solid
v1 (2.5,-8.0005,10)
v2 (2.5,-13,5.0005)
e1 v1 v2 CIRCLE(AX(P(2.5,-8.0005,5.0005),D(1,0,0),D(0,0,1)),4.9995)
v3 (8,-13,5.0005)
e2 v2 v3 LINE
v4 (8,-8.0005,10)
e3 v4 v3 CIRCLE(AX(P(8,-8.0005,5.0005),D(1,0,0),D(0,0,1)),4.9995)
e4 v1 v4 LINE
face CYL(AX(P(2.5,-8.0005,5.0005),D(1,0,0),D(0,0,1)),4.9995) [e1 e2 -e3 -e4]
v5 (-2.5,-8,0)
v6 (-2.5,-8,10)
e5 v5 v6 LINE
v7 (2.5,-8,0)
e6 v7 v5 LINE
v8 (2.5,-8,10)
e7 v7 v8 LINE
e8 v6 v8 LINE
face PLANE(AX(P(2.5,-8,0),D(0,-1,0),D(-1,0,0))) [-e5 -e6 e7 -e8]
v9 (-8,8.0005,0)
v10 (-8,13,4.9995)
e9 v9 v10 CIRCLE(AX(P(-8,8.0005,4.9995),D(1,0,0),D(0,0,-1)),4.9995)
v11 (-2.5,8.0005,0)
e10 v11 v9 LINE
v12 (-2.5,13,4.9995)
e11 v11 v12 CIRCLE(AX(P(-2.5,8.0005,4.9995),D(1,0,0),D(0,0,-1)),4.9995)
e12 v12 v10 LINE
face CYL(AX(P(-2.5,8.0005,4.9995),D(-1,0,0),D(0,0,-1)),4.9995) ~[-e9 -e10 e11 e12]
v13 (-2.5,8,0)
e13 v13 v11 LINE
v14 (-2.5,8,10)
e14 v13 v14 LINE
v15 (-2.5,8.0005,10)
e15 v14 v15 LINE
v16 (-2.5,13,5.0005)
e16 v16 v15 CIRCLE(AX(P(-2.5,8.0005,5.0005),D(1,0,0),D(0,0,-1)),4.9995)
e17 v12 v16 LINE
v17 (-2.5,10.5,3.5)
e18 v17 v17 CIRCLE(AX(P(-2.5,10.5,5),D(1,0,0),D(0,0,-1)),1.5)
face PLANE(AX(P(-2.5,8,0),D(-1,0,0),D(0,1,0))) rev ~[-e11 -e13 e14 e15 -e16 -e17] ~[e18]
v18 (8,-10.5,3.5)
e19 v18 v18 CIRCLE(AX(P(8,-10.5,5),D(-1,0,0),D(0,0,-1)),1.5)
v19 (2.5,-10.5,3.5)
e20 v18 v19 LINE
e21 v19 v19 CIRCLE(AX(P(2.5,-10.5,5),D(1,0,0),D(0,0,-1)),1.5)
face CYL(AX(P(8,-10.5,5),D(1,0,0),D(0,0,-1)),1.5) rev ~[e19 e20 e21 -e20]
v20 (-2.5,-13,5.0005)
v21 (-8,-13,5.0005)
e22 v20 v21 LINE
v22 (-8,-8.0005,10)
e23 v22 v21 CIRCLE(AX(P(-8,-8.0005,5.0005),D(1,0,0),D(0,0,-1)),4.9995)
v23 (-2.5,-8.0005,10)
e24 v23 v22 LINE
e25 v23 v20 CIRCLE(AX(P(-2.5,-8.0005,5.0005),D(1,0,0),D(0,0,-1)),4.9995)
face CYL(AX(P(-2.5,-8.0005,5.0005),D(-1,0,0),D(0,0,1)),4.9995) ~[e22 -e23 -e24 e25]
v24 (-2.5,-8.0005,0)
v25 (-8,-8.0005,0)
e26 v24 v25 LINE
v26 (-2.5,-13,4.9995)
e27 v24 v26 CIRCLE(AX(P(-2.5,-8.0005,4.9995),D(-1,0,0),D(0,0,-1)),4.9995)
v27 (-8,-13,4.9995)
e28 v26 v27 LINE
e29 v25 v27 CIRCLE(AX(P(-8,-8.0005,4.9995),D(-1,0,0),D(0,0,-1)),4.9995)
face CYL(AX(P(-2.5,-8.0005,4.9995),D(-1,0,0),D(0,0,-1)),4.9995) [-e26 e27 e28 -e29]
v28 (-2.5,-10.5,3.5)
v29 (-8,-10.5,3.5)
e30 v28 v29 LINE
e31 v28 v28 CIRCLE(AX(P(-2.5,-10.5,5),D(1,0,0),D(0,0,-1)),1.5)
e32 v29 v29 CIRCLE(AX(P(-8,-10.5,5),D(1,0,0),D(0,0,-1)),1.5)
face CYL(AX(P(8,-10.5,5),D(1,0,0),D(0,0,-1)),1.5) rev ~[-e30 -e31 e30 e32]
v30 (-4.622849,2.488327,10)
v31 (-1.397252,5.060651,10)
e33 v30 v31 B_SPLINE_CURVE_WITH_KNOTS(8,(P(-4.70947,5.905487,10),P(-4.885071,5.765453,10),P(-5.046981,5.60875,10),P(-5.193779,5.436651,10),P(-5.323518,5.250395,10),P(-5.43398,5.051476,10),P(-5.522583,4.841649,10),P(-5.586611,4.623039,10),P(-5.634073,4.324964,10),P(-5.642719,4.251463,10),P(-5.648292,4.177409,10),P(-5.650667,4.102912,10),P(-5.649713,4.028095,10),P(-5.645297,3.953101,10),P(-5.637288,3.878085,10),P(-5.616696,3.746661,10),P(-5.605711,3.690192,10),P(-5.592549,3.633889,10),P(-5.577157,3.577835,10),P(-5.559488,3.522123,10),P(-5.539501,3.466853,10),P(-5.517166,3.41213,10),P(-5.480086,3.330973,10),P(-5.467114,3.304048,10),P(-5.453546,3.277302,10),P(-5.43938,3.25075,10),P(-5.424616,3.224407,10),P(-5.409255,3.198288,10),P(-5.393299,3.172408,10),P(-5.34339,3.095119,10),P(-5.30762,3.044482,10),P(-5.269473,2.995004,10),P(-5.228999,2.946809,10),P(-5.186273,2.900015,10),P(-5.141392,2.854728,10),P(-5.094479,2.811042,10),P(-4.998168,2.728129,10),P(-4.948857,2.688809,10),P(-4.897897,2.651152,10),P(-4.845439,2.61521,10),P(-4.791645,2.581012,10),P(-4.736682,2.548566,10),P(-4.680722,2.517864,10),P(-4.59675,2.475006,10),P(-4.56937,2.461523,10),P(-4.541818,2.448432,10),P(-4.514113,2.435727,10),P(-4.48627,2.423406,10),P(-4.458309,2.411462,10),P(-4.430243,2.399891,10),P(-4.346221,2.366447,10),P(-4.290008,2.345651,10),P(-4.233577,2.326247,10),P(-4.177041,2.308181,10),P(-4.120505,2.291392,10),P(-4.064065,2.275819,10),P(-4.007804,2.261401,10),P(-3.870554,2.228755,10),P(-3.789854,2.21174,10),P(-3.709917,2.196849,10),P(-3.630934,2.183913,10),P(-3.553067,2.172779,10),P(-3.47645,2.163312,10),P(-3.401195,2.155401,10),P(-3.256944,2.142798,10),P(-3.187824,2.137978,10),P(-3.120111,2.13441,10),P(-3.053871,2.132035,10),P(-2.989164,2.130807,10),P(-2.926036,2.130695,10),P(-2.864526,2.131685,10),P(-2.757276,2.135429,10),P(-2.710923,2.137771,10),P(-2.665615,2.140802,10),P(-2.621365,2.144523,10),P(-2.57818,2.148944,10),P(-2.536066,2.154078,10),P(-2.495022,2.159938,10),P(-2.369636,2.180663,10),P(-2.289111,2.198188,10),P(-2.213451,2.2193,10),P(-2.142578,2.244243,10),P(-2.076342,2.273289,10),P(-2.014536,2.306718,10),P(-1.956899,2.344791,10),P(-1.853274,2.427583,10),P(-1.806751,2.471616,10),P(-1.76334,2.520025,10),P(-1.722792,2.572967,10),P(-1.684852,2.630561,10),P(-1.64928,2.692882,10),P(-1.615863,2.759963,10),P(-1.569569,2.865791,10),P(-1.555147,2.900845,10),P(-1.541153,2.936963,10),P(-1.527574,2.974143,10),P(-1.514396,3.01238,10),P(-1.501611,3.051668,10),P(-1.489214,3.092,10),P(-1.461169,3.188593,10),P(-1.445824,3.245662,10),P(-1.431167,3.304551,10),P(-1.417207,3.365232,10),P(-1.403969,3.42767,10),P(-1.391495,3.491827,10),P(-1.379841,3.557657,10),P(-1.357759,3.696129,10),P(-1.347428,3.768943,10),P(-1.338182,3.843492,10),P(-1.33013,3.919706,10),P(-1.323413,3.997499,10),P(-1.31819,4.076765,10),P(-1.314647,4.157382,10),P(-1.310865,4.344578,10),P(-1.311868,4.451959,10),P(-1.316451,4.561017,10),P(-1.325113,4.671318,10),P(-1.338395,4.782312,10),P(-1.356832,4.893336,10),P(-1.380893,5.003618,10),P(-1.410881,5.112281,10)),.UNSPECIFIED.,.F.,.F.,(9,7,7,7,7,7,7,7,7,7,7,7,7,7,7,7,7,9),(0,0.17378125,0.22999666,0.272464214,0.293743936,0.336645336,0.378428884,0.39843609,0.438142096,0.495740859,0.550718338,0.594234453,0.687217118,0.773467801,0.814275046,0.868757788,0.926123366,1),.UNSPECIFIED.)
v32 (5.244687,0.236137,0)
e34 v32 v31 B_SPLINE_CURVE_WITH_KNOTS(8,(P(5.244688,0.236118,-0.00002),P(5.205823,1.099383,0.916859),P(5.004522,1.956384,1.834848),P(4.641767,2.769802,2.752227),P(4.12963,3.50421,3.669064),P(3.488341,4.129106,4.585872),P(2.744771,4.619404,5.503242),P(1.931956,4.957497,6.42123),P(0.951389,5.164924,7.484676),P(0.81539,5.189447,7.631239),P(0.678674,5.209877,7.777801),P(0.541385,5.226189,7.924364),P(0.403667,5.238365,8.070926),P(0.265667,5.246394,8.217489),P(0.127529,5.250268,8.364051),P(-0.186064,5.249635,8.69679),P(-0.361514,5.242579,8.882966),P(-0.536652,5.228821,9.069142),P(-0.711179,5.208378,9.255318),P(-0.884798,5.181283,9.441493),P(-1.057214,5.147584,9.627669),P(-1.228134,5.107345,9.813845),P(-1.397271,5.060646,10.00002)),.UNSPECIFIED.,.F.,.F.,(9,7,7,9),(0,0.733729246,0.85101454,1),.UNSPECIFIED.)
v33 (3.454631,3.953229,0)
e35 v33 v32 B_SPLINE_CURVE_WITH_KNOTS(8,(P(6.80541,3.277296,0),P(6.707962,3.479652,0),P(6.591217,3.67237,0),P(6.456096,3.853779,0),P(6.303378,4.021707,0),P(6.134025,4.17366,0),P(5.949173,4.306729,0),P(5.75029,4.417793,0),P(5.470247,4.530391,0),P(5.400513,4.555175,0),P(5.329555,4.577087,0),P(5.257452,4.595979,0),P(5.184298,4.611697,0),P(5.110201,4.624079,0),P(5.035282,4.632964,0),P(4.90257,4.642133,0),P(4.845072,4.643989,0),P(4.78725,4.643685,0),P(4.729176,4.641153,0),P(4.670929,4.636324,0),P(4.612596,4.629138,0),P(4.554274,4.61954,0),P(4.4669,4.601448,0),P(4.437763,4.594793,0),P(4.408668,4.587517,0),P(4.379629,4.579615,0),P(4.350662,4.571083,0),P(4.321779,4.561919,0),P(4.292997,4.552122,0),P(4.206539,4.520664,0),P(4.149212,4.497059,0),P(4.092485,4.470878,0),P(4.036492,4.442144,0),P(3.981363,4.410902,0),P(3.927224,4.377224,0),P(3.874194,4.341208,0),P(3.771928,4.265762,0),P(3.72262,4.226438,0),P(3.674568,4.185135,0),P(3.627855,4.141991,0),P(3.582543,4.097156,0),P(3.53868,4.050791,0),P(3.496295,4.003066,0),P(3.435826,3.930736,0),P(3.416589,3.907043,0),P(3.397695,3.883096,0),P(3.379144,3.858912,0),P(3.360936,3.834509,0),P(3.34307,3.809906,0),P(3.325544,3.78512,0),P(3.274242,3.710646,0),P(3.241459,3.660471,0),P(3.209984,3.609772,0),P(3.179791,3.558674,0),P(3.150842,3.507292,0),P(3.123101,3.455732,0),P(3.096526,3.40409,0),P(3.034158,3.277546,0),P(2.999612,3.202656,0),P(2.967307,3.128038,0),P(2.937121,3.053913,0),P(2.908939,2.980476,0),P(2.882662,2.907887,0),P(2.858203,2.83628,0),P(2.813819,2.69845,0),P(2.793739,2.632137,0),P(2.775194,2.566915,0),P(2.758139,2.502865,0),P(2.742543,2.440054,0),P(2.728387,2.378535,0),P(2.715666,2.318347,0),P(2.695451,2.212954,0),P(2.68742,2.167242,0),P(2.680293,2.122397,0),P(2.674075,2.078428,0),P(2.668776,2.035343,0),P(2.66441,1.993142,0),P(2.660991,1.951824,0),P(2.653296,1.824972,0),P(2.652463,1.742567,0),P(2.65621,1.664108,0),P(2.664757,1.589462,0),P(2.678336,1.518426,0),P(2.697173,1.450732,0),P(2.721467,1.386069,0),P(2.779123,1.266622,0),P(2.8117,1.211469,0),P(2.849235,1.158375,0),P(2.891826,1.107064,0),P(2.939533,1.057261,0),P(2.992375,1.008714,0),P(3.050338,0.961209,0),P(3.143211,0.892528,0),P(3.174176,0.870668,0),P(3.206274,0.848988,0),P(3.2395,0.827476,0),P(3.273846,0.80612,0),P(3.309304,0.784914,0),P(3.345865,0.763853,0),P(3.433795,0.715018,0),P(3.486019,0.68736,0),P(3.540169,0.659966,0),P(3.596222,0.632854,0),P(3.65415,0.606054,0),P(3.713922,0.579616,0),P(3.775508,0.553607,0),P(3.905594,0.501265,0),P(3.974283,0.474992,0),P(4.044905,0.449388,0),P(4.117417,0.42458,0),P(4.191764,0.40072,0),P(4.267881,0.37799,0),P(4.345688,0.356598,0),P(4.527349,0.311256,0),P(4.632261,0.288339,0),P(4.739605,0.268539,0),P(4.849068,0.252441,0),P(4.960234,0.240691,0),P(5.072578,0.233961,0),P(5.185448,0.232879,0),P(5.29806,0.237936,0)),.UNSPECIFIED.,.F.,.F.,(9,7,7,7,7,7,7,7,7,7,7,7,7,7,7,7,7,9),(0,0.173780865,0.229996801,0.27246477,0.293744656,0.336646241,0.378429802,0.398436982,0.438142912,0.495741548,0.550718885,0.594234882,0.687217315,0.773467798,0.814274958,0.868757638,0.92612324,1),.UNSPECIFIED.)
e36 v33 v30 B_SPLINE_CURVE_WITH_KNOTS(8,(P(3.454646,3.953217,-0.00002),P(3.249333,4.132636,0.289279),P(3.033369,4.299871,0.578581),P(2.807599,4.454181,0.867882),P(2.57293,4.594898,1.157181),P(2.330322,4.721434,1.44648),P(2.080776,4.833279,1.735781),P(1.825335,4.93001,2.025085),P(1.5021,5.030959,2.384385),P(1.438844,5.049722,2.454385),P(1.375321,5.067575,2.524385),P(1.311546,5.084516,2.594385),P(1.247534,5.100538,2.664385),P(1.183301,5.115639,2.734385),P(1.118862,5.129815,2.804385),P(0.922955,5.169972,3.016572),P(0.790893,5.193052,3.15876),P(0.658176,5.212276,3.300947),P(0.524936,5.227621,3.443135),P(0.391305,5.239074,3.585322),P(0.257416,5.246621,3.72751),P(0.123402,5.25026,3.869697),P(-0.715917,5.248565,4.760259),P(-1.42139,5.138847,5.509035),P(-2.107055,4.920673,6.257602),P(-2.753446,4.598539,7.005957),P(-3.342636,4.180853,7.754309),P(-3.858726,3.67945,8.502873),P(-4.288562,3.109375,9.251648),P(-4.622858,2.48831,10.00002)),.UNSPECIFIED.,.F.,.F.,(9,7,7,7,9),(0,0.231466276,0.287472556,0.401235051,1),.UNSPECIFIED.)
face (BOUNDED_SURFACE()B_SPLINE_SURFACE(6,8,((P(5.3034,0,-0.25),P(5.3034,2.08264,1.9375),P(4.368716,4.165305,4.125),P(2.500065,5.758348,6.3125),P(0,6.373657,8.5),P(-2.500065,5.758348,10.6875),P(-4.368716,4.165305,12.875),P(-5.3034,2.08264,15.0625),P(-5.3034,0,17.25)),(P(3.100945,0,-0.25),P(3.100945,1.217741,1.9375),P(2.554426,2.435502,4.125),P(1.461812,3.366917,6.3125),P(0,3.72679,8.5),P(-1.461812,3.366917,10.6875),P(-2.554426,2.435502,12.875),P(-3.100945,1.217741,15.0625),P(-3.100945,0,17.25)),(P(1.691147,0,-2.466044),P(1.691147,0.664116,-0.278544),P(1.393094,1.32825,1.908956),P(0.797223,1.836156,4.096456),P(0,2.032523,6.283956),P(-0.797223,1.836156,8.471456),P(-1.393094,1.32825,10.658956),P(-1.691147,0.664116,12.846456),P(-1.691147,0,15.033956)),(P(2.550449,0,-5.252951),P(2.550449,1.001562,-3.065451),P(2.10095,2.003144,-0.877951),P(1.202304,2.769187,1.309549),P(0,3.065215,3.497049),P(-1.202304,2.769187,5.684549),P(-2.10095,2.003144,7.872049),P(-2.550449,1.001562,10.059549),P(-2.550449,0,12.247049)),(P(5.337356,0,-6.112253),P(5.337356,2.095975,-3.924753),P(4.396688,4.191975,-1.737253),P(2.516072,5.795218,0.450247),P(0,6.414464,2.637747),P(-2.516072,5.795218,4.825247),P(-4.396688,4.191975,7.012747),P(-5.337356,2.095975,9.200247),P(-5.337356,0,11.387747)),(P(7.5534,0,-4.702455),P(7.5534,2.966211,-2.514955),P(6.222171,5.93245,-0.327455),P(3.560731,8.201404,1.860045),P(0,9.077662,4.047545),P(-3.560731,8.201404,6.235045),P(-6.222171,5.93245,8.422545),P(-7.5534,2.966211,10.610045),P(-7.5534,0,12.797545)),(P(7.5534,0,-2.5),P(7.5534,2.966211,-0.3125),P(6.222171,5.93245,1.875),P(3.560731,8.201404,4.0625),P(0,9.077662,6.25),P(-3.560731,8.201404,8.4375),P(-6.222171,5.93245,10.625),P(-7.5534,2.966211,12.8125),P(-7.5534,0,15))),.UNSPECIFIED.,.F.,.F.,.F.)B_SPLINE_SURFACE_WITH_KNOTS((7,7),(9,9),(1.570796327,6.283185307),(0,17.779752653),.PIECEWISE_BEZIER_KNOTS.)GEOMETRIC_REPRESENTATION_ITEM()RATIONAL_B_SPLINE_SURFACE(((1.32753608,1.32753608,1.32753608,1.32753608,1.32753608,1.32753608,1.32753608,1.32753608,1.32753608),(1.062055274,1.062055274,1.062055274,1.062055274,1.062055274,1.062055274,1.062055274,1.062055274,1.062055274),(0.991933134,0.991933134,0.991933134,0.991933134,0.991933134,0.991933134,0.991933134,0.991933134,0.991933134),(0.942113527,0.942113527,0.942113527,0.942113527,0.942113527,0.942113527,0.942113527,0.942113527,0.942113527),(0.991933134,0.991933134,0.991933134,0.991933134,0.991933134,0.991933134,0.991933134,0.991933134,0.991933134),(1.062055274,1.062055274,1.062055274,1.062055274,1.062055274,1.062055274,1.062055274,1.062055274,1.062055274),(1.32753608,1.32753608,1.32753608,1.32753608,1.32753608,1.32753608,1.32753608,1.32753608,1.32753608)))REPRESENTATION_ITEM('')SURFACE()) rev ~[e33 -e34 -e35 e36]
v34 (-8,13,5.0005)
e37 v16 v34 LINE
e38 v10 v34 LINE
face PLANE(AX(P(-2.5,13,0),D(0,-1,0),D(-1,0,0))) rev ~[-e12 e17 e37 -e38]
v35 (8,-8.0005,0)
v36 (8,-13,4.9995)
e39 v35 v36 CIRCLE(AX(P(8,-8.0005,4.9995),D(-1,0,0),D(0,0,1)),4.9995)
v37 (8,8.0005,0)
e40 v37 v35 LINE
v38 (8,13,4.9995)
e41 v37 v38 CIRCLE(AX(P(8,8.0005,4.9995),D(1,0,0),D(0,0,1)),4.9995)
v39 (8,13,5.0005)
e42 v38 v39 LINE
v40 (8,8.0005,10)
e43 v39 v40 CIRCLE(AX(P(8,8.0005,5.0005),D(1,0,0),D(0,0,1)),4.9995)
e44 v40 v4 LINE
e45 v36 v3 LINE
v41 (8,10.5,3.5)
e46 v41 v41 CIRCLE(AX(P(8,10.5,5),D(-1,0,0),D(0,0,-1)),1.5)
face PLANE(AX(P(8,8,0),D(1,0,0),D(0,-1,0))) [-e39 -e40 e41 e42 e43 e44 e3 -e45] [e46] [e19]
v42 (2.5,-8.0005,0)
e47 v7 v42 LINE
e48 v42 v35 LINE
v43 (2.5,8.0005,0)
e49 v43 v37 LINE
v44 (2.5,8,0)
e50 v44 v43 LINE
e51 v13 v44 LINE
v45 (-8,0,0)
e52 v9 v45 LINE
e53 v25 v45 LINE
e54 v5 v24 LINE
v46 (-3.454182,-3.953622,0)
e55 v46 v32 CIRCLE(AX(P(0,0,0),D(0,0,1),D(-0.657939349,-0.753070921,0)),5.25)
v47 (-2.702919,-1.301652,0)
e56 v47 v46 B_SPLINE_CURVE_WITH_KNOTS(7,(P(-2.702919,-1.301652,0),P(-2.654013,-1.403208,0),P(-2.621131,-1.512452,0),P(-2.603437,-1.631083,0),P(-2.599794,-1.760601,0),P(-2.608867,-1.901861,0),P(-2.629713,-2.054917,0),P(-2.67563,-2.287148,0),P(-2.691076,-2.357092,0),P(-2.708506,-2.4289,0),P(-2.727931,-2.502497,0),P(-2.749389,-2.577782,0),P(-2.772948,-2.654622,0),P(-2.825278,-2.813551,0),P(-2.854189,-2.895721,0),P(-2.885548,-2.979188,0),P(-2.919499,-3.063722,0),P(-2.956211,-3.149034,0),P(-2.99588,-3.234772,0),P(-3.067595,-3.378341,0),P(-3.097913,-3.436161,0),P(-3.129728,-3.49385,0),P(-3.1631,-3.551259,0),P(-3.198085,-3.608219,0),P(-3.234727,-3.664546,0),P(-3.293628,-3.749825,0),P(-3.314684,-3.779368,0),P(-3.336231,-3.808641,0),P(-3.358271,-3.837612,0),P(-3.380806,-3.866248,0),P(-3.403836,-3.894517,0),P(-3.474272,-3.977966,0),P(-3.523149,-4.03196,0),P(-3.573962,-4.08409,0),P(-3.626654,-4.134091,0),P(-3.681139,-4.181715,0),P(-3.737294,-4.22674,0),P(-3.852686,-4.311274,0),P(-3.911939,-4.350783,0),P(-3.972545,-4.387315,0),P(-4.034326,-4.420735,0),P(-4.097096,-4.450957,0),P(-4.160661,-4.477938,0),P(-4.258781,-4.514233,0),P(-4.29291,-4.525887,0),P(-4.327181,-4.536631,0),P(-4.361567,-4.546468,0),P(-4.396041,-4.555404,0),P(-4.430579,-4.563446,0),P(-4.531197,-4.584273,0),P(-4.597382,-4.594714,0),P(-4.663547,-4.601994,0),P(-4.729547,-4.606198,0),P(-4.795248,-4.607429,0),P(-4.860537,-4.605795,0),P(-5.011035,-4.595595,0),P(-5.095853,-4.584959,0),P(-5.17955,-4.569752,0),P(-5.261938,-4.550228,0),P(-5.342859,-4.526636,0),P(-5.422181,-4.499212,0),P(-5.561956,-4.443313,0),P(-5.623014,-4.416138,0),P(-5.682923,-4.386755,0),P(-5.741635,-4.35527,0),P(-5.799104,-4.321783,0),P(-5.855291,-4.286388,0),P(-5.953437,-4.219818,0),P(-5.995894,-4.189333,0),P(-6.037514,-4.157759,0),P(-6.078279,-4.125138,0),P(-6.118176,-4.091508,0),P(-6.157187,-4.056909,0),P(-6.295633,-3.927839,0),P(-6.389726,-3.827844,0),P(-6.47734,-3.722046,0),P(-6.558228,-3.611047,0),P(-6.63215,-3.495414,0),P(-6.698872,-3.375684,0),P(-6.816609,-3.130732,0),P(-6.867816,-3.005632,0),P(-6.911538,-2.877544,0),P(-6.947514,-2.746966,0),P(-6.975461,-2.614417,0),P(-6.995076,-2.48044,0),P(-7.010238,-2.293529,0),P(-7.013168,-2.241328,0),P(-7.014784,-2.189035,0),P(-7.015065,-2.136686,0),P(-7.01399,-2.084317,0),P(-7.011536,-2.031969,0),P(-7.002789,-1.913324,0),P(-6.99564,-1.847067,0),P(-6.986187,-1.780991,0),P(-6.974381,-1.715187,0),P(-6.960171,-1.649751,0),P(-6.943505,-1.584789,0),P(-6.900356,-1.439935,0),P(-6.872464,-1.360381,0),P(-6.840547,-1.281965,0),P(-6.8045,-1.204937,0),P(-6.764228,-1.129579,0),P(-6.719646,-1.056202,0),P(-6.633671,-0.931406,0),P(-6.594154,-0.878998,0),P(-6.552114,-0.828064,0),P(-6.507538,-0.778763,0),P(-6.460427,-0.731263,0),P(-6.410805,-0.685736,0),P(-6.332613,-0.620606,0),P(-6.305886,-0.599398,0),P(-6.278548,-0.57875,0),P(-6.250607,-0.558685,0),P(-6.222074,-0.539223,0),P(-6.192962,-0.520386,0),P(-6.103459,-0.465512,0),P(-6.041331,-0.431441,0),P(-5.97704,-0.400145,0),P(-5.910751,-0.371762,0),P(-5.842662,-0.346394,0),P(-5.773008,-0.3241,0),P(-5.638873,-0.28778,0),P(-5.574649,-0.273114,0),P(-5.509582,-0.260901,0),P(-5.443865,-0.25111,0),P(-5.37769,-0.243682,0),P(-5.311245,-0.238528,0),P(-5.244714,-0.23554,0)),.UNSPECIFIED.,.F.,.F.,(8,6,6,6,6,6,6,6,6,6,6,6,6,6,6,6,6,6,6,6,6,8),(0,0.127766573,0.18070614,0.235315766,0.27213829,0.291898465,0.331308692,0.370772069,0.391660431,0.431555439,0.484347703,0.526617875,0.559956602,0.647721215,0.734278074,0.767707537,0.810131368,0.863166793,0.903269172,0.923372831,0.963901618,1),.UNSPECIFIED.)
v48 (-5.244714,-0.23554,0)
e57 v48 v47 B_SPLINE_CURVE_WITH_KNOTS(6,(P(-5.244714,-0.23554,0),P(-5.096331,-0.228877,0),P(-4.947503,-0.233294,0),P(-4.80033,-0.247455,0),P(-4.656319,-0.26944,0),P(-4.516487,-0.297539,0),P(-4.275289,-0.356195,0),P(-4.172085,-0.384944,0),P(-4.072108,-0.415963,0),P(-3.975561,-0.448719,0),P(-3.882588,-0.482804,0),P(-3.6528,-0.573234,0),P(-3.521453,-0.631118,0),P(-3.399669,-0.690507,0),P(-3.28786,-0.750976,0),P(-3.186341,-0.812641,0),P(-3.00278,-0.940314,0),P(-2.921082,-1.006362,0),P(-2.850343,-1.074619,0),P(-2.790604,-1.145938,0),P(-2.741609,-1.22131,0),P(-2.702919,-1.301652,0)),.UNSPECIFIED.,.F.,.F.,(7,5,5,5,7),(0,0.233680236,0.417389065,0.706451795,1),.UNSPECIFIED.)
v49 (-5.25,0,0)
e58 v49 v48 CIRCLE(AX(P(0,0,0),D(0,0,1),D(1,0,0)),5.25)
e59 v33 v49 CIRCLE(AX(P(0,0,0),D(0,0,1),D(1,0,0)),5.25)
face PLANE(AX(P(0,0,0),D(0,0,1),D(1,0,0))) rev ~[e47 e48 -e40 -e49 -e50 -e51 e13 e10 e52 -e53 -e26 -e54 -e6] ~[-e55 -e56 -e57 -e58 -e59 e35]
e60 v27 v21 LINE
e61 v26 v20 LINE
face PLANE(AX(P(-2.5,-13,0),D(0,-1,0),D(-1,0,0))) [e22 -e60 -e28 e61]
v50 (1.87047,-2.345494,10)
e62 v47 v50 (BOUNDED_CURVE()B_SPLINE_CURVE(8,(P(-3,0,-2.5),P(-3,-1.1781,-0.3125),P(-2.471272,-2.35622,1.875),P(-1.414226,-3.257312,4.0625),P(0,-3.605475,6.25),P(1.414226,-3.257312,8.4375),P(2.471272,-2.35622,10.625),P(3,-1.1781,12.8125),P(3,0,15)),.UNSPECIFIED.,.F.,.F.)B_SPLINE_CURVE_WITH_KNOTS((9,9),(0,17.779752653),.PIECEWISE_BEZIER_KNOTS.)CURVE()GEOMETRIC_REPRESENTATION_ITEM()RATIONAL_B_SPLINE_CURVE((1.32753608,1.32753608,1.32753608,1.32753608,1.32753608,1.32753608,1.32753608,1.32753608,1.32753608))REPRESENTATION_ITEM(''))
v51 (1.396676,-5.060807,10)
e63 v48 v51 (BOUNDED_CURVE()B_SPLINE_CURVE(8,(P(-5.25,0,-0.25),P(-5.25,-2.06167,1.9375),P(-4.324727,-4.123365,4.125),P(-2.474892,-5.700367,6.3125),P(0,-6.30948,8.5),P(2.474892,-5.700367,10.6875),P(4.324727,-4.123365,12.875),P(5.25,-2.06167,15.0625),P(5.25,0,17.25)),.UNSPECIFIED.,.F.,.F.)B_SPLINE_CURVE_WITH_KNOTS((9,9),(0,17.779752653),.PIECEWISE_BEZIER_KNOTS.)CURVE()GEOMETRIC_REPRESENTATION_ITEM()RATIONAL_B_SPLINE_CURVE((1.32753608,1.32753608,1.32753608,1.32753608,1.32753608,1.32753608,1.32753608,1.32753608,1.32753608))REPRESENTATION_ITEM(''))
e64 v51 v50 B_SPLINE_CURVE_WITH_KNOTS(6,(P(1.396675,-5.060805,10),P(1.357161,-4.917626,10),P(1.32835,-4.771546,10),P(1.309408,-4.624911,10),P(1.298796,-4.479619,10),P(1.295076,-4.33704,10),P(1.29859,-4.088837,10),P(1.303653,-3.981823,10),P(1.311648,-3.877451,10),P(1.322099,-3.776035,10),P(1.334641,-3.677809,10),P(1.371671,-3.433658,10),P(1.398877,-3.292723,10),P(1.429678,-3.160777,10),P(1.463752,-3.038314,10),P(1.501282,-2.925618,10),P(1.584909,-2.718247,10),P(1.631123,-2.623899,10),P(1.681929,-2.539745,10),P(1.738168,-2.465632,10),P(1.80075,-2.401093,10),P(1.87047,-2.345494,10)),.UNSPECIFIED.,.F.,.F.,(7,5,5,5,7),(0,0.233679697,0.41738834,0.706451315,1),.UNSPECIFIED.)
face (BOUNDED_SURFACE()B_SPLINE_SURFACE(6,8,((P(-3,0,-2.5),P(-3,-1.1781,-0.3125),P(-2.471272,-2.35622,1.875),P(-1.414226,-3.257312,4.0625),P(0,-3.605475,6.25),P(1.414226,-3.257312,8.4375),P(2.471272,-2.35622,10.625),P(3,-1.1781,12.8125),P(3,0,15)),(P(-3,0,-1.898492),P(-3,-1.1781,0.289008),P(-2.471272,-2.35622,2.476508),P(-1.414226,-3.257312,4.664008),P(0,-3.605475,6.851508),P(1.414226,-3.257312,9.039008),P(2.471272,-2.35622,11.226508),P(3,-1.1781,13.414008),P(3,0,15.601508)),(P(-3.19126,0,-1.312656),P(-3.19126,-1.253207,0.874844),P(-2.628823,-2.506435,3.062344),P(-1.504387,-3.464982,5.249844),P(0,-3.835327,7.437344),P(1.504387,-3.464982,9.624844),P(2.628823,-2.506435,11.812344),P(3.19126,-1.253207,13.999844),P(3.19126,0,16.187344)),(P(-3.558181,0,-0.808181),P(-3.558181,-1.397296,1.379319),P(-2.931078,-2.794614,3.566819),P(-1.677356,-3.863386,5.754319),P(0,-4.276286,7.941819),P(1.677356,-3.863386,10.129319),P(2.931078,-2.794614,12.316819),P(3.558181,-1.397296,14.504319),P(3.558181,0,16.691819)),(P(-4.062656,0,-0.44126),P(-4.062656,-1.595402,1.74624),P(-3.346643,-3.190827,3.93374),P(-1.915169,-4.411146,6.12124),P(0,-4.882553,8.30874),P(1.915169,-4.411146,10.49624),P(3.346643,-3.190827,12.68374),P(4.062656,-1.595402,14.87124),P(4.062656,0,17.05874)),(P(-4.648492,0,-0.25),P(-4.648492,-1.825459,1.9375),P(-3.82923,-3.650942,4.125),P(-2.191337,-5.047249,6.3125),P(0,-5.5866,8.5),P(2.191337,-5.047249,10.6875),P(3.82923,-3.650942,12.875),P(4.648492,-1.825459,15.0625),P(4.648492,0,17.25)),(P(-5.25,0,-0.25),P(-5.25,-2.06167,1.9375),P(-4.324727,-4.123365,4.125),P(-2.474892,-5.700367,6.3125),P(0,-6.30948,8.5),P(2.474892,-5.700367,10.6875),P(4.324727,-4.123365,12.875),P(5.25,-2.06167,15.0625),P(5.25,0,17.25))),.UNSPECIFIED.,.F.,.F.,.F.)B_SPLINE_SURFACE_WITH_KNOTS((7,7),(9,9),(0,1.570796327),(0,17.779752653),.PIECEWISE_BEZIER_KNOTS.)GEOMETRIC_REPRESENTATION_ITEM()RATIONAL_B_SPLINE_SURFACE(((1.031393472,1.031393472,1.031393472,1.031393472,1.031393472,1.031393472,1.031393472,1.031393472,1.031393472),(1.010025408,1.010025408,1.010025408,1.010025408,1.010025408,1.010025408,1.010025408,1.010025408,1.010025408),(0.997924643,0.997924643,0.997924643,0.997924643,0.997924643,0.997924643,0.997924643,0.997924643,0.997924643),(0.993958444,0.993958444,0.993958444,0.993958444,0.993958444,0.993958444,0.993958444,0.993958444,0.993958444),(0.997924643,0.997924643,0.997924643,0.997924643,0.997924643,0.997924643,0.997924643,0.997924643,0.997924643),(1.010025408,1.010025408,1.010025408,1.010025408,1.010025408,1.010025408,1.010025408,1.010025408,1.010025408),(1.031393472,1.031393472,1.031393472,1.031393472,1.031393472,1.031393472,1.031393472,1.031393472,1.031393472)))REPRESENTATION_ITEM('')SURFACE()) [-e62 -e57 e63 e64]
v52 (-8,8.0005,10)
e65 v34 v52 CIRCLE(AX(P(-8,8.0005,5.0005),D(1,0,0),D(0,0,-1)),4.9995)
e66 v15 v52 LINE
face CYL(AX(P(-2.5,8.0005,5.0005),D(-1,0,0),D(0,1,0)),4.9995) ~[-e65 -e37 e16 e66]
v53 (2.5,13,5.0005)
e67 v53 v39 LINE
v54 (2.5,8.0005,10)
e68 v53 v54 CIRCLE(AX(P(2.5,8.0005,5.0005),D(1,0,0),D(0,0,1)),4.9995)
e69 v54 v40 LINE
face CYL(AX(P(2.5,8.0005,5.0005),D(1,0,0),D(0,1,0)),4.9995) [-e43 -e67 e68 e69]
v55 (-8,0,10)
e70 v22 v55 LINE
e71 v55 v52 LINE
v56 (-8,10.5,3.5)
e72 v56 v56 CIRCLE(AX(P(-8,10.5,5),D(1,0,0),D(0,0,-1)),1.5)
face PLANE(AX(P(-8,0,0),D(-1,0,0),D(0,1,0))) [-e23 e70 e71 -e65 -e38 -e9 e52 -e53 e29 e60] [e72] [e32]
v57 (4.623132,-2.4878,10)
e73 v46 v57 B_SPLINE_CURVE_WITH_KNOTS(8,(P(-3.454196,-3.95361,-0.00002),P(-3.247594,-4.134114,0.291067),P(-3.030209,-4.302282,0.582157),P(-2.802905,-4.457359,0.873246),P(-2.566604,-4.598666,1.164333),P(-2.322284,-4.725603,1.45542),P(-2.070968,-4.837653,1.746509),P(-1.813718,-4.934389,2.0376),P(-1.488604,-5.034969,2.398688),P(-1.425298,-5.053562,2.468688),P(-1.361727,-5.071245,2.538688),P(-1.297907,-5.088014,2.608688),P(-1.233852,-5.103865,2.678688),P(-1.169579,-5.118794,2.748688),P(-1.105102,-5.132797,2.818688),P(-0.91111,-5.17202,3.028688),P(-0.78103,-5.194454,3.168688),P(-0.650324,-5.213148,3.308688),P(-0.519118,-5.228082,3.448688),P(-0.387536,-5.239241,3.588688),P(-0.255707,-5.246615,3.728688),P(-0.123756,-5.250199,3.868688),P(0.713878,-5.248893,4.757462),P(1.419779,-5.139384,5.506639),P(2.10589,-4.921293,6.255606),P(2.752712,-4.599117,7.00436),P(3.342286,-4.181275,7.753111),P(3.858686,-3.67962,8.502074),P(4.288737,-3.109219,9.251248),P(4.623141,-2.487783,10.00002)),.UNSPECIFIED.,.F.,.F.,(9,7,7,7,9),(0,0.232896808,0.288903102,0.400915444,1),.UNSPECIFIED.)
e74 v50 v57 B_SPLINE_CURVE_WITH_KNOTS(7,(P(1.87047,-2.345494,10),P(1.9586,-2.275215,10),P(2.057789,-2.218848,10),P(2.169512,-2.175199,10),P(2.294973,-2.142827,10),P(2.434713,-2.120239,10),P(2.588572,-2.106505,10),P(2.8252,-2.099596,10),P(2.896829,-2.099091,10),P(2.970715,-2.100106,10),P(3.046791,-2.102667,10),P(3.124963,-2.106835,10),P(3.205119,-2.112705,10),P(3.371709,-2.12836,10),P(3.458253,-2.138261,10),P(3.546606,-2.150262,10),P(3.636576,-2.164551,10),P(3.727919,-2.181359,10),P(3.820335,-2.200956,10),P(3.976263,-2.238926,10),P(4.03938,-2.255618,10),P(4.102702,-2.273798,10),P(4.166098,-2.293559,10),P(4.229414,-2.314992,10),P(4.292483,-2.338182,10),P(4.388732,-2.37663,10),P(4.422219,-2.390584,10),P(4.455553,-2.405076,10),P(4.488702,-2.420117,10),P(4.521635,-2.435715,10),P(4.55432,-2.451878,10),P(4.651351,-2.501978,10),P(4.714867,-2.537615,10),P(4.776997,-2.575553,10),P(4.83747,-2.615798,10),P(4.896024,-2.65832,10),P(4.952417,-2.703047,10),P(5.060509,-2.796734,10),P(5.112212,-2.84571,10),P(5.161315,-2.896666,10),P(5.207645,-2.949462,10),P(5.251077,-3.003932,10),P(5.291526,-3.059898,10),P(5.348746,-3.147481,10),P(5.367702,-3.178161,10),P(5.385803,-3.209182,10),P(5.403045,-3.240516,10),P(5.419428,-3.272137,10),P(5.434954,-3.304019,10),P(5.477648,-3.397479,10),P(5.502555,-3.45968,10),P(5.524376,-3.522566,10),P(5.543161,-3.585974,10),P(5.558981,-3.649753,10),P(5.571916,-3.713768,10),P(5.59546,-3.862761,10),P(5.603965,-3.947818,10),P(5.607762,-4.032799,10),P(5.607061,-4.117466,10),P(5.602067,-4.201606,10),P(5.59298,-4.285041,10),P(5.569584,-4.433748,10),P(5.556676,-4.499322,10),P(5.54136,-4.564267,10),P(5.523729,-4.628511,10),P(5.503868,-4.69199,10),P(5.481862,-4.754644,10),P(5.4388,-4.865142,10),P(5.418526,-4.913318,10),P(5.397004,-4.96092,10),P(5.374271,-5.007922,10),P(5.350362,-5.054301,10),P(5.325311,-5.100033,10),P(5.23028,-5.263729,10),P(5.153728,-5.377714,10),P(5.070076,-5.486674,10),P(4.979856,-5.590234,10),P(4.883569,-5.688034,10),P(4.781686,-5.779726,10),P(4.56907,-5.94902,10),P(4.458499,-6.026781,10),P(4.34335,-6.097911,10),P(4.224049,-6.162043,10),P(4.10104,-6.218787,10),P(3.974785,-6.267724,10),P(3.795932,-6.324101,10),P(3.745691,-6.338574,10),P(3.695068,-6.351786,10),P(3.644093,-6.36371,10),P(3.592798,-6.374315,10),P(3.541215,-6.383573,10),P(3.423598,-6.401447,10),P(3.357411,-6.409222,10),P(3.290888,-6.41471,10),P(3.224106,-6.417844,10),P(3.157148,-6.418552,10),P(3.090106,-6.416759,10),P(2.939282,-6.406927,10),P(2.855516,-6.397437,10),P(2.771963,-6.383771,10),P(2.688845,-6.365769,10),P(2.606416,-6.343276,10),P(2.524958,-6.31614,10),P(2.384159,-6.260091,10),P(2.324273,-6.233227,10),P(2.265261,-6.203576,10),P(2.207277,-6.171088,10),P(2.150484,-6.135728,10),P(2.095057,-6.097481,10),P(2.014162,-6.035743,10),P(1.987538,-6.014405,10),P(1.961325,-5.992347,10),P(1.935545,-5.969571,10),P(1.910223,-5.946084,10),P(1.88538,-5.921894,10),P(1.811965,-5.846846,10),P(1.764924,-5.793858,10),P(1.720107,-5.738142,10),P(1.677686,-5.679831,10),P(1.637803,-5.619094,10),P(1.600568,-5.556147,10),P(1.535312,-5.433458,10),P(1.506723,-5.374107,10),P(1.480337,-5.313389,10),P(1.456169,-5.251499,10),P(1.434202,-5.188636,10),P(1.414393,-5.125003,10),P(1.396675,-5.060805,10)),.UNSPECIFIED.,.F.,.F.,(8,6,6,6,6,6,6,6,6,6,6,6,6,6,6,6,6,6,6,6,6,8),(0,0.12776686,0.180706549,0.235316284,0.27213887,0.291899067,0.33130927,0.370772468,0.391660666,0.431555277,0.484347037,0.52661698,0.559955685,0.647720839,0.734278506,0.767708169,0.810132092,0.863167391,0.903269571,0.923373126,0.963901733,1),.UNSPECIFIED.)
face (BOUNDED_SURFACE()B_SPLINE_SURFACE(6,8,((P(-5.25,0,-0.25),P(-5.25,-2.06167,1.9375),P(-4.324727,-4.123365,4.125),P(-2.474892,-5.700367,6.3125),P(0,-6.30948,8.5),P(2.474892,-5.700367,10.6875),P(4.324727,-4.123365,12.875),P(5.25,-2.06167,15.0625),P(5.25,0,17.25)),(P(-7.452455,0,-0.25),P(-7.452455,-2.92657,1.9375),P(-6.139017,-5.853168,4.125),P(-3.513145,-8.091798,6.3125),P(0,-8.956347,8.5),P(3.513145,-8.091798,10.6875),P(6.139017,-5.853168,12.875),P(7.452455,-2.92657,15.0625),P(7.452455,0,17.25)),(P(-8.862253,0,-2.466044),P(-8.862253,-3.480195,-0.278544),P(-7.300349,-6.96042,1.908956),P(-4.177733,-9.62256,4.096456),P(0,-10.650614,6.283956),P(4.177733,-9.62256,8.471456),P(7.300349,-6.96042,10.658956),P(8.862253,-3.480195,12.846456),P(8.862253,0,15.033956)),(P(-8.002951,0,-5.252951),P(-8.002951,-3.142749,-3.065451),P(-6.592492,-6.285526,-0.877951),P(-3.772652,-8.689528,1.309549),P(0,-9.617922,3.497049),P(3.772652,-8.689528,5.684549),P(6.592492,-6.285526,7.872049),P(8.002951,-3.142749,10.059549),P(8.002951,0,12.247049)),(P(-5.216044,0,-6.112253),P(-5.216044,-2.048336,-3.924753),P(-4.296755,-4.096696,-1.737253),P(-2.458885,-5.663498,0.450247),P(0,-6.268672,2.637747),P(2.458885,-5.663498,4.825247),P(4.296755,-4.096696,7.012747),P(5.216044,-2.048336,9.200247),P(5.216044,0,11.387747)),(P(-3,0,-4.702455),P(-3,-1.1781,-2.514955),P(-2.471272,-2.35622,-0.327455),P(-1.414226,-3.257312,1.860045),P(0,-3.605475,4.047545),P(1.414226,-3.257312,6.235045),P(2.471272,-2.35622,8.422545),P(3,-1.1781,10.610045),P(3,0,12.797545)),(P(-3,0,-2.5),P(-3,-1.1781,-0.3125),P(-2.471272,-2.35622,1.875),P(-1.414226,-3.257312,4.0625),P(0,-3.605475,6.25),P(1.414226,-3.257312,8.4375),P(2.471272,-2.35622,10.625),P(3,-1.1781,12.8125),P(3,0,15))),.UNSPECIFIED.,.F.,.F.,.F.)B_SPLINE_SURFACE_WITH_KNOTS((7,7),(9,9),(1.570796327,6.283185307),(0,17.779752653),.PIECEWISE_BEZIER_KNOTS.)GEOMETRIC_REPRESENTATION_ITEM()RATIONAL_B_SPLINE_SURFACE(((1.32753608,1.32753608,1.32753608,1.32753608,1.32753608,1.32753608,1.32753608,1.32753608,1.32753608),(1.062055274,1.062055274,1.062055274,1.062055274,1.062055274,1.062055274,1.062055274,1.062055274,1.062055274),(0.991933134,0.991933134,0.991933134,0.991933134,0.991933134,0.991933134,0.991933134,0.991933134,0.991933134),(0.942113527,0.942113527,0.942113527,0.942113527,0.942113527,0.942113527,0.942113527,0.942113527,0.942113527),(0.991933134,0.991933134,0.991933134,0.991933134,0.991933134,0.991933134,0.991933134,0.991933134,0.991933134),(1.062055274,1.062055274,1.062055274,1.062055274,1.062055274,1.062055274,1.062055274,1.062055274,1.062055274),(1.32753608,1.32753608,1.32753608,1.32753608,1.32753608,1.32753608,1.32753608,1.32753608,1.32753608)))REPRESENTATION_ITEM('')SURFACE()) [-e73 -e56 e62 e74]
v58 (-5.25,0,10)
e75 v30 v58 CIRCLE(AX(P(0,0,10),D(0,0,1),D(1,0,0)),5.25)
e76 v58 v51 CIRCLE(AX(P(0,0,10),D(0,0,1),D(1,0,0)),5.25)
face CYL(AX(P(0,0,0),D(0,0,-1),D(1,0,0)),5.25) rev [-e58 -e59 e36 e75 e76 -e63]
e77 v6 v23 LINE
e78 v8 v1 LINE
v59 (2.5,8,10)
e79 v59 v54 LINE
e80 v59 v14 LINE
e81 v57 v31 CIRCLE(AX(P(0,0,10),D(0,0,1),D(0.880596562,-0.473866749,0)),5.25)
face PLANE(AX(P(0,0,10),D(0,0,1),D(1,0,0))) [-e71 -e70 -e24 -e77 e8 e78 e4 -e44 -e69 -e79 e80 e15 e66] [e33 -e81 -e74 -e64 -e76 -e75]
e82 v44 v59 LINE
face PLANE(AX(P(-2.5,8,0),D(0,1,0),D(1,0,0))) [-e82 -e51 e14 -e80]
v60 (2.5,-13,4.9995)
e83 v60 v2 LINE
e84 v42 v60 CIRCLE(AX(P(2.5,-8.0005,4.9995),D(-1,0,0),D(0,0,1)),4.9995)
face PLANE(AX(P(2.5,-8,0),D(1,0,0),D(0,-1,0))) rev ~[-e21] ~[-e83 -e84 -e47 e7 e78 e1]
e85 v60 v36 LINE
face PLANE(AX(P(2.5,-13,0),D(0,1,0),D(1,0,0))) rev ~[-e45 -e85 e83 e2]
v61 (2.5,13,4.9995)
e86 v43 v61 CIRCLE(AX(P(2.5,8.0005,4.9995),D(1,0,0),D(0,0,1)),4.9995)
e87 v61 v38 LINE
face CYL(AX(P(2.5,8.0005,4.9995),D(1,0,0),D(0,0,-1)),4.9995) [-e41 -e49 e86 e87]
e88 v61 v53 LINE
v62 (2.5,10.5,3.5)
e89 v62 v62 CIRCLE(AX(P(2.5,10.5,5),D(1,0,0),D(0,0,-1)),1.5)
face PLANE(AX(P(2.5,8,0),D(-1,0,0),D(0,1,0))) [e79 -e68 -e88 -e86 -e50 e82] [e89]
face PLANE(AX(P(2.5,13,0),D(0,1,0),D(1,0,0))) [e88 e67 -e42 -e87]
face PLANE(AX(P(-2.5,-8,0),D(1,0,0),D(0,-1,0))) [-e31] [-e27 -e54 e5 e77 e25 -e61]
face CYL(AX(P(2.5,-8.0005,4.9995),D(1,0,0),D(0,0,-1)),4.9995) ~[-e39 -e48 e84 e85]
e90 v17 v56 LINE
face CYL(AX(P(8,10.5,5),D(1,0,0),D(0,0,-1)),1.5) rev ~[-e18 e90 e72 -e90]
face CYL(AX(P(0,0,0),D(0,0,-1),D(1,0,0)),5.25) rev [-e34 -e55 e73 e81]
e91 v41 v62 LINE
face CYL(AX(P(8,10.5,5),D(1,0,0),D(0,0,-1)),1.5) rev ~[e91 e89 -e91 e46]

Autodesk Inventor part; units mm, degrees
ref_plane "YZ Plane" through (0, 0, 0) normal (1, 0, 0) x (0, 1, 0)
ref_plane "XZ Plane" through (0, 0, 0) normal (0, 1, 0) x (-1, 0, 0)
ref_plane "XY Plane" through (0, 0, 0) normal (0, 0, 1) x (1, 0, 0)
sketch "Sketch1" plane through (0, 0, 0) normal (0, 0, 1) x (1, 0, 0)
  circle A0 centre (0, 0) radius 5.25
  line L0 (0, 0) -> (-8, 0)
  line L1 (-8, 0) -> (-8, 8)
  line L2 (-8, 8) -> (8, 8)
  line L3 (8, 8) -> (8, -8)
  line L4 (8, -8) -> (-8, -8)
  line L5 (-8, -8) -> (-8, 0)
  line L6 (0, -8) -> (-2.5, -8)
  line L7 (-2.5, -8) -> (-2.5, -13)
  line L8 (-2.5, -13) -> (-8, -13)
  line L9 (-8, -13) -> (-8, -8)
  line L10 (0, -8) -> (2.5, -8)
  line L11 (2.5, -8) -> (2.5, -13)
  line L12 (2.5, -13) -> (8, -13)
  line L13 (8, -13) -> (8, -8)
  line L14 (8, 0) -> (8, -2.5)
  line L15 (8, 0) -> (8, 2.5)
  line L16 (13, -2.5) -> (13, -8)
  line L17 (13, -8) -> (8, -8)
  line L18 (13, 2.5) -> (13, 8)
  line L19 (13, 8) -> (8, 8)
  line L20 (8, 2.5) -> (13, 2.5)
  line L21 (8, -2.5) -> (13, -2.5)
  line L22 (8, 8) -> (8, -8)
  line L23 (0, 8) -> (2.5, 8)
  line L24 (0, 8) -> (-2.5, 8)
  line L25 (2.5, 13) -> (8, 13)
  line L26 (8, 13) -> (8, 8)
  line L27 (-2.5, 13) -> (-8, 13)
  line L28 (-8, 13) -> (-8, 8)
  line L29 (-2.5, 8) -> (-2.5, 13)
  line L30 (2.5, 8) -> (2.5, 13)
  line L31 (-8, 8) -> (8, 8)
  line L32 (-8, 0) -> (-8, 2.5)
  line L33 (-8, 0) -> (-8, -2.5)
  line L34 (-13, 2.5) -> (-13, 8)
  line L35 (-13, 8) -> (-8, 8)
  line L36 (-13, -2.5) -> (-13, -8)
  line L37 (-13, -8) -> (-8, -8)
  line L38 (-8, -2.5) -> (-13, -2.5)
  line L39 (-8, 2.5) -> (-13, 2.5)
  line L40 (-8, -8) -> (-8, 8)
  dimension "d0" = 10.5
  dimension "d1" = 8
  dimension "d2" = 8
  dimension "d3" = 16
  dimension "d4" = 16
  dimension "d5" = 16
  dimension "d33" = 2.5
  dimension "d34" = 5
  dimension "d35" = 2.5
  dimension "d38" = 360
extrude "Extrusion1" add sketch "Sketch1" along normal blind 10 contours L1 L2 L3 L4 L5 | L28 L27 L29 L2 | L4 L7 L8 L9 | L30 L25 L26 L2 | L4 L13 L12 L11
ref_plane "Work Plane1" through (-8, 0, 0) normal (0, -1, 0) x (1, 0, 0)
sketch "Sketch3" plane through (-8, 0, 0) normal (0, -1, 0) x (1, 0, 0)
  line L0 (13.3034, 0) -> (13.3034, -2.5)
  line L1 (2.75, 0) -> (2.75, 10) projected
  line L2 (2.75, 0) -> (2.75, -2.5)
  circle A0 centre (13.3034, -2.5) radius 2.25
  circle A1 centre (2.75, -2.5) radius 2.25
  point P0 (8, 0)
  dimension "d9" = 2.5
  dimension "d10" = 2.5
  dimension "d11" = 4.5
  dimension "d12" = 4.5
coil "Coil1" sketch "Sketch3" operation add axis through (0, 0, -10) along (0, 0, 1) pitch 35 turns 1 hand right contours A1
coil "Coil2" sketch "Sketch3" operation add axis through (0, 0, -10) along (0, 0, 1) pitch 35 turns 1 hand right contours A0
sketch "Sketch4" plane through (-8, -8, 0) normal (0, -1, 0) x (1, 0, 0)
  line L0 (10.5, 10) -> (5.5, 10) projected
  line L1 (0, 10) -> (16, 10)
  line L2 (16, 10) -> (16, 40)
  line L3 (16, 40) -> (0, 40)
  line L4 (0, 40) -> (0, 10)
  line L5 (10.5, 0) -> (5.5, 0) projected
  line L6 (0, 0) -> (16, 0)
  line L7 (16, 0) -> (16, -15)
  line L8 (16, -15) -> (0, -15)
  line L9 (0, -15) -> (0, 0)
  point P0 (8, 0)
  point P1 (16, 0)
  dimension "d29" = 30
  dimension "d30" = 15
extrude "Extrusion2" cut sketch "Sketch4" against normal through all
fillet "Fillet1" radius 5 8 edges at (5.25, -13, 10) (-5.25, -13, 10) (-5.25, 13, 10) (5.25, 13, 10) (-5.25, 13, 0) (5.25, 13, 0) (-5.25, -13, 0) (5.25, -13, 0)
sketch "Sketch6" plane through (8, -8, 0) normal (1, 0, 0) x (0, 0, -1)
  arc A0 (-10, 0) -> (0, 0) centre (-5, 0) ccw projected
  line L0 (-5, -5) -> (-5, -2.5)
  circle A1 centre (-5, -2.5) radius 1.5
  arc A2 (0, 16) -> (-10, 16) centre (-5, 16) ccw projected
  line L1 (-5, 21) -> (-5, 18.5)
  circle A3 centre (-5, 18.5) radius 1.5
  point P0 (0, 8)
  dimension "d41" = 2.5
  dimension "d42" = 3
  dimension "d43" = 2.5
  dimension "d44" = 3
extrude "Extrusion3" cut sketch "Sketch6" against normal through all
equation "\"d2\" = d1"
equation "\"d3\" = 2 * d1"
equation "\"d4\" = d3"
equation "\"d5\" = d3"
properties part number "screw_nut"
